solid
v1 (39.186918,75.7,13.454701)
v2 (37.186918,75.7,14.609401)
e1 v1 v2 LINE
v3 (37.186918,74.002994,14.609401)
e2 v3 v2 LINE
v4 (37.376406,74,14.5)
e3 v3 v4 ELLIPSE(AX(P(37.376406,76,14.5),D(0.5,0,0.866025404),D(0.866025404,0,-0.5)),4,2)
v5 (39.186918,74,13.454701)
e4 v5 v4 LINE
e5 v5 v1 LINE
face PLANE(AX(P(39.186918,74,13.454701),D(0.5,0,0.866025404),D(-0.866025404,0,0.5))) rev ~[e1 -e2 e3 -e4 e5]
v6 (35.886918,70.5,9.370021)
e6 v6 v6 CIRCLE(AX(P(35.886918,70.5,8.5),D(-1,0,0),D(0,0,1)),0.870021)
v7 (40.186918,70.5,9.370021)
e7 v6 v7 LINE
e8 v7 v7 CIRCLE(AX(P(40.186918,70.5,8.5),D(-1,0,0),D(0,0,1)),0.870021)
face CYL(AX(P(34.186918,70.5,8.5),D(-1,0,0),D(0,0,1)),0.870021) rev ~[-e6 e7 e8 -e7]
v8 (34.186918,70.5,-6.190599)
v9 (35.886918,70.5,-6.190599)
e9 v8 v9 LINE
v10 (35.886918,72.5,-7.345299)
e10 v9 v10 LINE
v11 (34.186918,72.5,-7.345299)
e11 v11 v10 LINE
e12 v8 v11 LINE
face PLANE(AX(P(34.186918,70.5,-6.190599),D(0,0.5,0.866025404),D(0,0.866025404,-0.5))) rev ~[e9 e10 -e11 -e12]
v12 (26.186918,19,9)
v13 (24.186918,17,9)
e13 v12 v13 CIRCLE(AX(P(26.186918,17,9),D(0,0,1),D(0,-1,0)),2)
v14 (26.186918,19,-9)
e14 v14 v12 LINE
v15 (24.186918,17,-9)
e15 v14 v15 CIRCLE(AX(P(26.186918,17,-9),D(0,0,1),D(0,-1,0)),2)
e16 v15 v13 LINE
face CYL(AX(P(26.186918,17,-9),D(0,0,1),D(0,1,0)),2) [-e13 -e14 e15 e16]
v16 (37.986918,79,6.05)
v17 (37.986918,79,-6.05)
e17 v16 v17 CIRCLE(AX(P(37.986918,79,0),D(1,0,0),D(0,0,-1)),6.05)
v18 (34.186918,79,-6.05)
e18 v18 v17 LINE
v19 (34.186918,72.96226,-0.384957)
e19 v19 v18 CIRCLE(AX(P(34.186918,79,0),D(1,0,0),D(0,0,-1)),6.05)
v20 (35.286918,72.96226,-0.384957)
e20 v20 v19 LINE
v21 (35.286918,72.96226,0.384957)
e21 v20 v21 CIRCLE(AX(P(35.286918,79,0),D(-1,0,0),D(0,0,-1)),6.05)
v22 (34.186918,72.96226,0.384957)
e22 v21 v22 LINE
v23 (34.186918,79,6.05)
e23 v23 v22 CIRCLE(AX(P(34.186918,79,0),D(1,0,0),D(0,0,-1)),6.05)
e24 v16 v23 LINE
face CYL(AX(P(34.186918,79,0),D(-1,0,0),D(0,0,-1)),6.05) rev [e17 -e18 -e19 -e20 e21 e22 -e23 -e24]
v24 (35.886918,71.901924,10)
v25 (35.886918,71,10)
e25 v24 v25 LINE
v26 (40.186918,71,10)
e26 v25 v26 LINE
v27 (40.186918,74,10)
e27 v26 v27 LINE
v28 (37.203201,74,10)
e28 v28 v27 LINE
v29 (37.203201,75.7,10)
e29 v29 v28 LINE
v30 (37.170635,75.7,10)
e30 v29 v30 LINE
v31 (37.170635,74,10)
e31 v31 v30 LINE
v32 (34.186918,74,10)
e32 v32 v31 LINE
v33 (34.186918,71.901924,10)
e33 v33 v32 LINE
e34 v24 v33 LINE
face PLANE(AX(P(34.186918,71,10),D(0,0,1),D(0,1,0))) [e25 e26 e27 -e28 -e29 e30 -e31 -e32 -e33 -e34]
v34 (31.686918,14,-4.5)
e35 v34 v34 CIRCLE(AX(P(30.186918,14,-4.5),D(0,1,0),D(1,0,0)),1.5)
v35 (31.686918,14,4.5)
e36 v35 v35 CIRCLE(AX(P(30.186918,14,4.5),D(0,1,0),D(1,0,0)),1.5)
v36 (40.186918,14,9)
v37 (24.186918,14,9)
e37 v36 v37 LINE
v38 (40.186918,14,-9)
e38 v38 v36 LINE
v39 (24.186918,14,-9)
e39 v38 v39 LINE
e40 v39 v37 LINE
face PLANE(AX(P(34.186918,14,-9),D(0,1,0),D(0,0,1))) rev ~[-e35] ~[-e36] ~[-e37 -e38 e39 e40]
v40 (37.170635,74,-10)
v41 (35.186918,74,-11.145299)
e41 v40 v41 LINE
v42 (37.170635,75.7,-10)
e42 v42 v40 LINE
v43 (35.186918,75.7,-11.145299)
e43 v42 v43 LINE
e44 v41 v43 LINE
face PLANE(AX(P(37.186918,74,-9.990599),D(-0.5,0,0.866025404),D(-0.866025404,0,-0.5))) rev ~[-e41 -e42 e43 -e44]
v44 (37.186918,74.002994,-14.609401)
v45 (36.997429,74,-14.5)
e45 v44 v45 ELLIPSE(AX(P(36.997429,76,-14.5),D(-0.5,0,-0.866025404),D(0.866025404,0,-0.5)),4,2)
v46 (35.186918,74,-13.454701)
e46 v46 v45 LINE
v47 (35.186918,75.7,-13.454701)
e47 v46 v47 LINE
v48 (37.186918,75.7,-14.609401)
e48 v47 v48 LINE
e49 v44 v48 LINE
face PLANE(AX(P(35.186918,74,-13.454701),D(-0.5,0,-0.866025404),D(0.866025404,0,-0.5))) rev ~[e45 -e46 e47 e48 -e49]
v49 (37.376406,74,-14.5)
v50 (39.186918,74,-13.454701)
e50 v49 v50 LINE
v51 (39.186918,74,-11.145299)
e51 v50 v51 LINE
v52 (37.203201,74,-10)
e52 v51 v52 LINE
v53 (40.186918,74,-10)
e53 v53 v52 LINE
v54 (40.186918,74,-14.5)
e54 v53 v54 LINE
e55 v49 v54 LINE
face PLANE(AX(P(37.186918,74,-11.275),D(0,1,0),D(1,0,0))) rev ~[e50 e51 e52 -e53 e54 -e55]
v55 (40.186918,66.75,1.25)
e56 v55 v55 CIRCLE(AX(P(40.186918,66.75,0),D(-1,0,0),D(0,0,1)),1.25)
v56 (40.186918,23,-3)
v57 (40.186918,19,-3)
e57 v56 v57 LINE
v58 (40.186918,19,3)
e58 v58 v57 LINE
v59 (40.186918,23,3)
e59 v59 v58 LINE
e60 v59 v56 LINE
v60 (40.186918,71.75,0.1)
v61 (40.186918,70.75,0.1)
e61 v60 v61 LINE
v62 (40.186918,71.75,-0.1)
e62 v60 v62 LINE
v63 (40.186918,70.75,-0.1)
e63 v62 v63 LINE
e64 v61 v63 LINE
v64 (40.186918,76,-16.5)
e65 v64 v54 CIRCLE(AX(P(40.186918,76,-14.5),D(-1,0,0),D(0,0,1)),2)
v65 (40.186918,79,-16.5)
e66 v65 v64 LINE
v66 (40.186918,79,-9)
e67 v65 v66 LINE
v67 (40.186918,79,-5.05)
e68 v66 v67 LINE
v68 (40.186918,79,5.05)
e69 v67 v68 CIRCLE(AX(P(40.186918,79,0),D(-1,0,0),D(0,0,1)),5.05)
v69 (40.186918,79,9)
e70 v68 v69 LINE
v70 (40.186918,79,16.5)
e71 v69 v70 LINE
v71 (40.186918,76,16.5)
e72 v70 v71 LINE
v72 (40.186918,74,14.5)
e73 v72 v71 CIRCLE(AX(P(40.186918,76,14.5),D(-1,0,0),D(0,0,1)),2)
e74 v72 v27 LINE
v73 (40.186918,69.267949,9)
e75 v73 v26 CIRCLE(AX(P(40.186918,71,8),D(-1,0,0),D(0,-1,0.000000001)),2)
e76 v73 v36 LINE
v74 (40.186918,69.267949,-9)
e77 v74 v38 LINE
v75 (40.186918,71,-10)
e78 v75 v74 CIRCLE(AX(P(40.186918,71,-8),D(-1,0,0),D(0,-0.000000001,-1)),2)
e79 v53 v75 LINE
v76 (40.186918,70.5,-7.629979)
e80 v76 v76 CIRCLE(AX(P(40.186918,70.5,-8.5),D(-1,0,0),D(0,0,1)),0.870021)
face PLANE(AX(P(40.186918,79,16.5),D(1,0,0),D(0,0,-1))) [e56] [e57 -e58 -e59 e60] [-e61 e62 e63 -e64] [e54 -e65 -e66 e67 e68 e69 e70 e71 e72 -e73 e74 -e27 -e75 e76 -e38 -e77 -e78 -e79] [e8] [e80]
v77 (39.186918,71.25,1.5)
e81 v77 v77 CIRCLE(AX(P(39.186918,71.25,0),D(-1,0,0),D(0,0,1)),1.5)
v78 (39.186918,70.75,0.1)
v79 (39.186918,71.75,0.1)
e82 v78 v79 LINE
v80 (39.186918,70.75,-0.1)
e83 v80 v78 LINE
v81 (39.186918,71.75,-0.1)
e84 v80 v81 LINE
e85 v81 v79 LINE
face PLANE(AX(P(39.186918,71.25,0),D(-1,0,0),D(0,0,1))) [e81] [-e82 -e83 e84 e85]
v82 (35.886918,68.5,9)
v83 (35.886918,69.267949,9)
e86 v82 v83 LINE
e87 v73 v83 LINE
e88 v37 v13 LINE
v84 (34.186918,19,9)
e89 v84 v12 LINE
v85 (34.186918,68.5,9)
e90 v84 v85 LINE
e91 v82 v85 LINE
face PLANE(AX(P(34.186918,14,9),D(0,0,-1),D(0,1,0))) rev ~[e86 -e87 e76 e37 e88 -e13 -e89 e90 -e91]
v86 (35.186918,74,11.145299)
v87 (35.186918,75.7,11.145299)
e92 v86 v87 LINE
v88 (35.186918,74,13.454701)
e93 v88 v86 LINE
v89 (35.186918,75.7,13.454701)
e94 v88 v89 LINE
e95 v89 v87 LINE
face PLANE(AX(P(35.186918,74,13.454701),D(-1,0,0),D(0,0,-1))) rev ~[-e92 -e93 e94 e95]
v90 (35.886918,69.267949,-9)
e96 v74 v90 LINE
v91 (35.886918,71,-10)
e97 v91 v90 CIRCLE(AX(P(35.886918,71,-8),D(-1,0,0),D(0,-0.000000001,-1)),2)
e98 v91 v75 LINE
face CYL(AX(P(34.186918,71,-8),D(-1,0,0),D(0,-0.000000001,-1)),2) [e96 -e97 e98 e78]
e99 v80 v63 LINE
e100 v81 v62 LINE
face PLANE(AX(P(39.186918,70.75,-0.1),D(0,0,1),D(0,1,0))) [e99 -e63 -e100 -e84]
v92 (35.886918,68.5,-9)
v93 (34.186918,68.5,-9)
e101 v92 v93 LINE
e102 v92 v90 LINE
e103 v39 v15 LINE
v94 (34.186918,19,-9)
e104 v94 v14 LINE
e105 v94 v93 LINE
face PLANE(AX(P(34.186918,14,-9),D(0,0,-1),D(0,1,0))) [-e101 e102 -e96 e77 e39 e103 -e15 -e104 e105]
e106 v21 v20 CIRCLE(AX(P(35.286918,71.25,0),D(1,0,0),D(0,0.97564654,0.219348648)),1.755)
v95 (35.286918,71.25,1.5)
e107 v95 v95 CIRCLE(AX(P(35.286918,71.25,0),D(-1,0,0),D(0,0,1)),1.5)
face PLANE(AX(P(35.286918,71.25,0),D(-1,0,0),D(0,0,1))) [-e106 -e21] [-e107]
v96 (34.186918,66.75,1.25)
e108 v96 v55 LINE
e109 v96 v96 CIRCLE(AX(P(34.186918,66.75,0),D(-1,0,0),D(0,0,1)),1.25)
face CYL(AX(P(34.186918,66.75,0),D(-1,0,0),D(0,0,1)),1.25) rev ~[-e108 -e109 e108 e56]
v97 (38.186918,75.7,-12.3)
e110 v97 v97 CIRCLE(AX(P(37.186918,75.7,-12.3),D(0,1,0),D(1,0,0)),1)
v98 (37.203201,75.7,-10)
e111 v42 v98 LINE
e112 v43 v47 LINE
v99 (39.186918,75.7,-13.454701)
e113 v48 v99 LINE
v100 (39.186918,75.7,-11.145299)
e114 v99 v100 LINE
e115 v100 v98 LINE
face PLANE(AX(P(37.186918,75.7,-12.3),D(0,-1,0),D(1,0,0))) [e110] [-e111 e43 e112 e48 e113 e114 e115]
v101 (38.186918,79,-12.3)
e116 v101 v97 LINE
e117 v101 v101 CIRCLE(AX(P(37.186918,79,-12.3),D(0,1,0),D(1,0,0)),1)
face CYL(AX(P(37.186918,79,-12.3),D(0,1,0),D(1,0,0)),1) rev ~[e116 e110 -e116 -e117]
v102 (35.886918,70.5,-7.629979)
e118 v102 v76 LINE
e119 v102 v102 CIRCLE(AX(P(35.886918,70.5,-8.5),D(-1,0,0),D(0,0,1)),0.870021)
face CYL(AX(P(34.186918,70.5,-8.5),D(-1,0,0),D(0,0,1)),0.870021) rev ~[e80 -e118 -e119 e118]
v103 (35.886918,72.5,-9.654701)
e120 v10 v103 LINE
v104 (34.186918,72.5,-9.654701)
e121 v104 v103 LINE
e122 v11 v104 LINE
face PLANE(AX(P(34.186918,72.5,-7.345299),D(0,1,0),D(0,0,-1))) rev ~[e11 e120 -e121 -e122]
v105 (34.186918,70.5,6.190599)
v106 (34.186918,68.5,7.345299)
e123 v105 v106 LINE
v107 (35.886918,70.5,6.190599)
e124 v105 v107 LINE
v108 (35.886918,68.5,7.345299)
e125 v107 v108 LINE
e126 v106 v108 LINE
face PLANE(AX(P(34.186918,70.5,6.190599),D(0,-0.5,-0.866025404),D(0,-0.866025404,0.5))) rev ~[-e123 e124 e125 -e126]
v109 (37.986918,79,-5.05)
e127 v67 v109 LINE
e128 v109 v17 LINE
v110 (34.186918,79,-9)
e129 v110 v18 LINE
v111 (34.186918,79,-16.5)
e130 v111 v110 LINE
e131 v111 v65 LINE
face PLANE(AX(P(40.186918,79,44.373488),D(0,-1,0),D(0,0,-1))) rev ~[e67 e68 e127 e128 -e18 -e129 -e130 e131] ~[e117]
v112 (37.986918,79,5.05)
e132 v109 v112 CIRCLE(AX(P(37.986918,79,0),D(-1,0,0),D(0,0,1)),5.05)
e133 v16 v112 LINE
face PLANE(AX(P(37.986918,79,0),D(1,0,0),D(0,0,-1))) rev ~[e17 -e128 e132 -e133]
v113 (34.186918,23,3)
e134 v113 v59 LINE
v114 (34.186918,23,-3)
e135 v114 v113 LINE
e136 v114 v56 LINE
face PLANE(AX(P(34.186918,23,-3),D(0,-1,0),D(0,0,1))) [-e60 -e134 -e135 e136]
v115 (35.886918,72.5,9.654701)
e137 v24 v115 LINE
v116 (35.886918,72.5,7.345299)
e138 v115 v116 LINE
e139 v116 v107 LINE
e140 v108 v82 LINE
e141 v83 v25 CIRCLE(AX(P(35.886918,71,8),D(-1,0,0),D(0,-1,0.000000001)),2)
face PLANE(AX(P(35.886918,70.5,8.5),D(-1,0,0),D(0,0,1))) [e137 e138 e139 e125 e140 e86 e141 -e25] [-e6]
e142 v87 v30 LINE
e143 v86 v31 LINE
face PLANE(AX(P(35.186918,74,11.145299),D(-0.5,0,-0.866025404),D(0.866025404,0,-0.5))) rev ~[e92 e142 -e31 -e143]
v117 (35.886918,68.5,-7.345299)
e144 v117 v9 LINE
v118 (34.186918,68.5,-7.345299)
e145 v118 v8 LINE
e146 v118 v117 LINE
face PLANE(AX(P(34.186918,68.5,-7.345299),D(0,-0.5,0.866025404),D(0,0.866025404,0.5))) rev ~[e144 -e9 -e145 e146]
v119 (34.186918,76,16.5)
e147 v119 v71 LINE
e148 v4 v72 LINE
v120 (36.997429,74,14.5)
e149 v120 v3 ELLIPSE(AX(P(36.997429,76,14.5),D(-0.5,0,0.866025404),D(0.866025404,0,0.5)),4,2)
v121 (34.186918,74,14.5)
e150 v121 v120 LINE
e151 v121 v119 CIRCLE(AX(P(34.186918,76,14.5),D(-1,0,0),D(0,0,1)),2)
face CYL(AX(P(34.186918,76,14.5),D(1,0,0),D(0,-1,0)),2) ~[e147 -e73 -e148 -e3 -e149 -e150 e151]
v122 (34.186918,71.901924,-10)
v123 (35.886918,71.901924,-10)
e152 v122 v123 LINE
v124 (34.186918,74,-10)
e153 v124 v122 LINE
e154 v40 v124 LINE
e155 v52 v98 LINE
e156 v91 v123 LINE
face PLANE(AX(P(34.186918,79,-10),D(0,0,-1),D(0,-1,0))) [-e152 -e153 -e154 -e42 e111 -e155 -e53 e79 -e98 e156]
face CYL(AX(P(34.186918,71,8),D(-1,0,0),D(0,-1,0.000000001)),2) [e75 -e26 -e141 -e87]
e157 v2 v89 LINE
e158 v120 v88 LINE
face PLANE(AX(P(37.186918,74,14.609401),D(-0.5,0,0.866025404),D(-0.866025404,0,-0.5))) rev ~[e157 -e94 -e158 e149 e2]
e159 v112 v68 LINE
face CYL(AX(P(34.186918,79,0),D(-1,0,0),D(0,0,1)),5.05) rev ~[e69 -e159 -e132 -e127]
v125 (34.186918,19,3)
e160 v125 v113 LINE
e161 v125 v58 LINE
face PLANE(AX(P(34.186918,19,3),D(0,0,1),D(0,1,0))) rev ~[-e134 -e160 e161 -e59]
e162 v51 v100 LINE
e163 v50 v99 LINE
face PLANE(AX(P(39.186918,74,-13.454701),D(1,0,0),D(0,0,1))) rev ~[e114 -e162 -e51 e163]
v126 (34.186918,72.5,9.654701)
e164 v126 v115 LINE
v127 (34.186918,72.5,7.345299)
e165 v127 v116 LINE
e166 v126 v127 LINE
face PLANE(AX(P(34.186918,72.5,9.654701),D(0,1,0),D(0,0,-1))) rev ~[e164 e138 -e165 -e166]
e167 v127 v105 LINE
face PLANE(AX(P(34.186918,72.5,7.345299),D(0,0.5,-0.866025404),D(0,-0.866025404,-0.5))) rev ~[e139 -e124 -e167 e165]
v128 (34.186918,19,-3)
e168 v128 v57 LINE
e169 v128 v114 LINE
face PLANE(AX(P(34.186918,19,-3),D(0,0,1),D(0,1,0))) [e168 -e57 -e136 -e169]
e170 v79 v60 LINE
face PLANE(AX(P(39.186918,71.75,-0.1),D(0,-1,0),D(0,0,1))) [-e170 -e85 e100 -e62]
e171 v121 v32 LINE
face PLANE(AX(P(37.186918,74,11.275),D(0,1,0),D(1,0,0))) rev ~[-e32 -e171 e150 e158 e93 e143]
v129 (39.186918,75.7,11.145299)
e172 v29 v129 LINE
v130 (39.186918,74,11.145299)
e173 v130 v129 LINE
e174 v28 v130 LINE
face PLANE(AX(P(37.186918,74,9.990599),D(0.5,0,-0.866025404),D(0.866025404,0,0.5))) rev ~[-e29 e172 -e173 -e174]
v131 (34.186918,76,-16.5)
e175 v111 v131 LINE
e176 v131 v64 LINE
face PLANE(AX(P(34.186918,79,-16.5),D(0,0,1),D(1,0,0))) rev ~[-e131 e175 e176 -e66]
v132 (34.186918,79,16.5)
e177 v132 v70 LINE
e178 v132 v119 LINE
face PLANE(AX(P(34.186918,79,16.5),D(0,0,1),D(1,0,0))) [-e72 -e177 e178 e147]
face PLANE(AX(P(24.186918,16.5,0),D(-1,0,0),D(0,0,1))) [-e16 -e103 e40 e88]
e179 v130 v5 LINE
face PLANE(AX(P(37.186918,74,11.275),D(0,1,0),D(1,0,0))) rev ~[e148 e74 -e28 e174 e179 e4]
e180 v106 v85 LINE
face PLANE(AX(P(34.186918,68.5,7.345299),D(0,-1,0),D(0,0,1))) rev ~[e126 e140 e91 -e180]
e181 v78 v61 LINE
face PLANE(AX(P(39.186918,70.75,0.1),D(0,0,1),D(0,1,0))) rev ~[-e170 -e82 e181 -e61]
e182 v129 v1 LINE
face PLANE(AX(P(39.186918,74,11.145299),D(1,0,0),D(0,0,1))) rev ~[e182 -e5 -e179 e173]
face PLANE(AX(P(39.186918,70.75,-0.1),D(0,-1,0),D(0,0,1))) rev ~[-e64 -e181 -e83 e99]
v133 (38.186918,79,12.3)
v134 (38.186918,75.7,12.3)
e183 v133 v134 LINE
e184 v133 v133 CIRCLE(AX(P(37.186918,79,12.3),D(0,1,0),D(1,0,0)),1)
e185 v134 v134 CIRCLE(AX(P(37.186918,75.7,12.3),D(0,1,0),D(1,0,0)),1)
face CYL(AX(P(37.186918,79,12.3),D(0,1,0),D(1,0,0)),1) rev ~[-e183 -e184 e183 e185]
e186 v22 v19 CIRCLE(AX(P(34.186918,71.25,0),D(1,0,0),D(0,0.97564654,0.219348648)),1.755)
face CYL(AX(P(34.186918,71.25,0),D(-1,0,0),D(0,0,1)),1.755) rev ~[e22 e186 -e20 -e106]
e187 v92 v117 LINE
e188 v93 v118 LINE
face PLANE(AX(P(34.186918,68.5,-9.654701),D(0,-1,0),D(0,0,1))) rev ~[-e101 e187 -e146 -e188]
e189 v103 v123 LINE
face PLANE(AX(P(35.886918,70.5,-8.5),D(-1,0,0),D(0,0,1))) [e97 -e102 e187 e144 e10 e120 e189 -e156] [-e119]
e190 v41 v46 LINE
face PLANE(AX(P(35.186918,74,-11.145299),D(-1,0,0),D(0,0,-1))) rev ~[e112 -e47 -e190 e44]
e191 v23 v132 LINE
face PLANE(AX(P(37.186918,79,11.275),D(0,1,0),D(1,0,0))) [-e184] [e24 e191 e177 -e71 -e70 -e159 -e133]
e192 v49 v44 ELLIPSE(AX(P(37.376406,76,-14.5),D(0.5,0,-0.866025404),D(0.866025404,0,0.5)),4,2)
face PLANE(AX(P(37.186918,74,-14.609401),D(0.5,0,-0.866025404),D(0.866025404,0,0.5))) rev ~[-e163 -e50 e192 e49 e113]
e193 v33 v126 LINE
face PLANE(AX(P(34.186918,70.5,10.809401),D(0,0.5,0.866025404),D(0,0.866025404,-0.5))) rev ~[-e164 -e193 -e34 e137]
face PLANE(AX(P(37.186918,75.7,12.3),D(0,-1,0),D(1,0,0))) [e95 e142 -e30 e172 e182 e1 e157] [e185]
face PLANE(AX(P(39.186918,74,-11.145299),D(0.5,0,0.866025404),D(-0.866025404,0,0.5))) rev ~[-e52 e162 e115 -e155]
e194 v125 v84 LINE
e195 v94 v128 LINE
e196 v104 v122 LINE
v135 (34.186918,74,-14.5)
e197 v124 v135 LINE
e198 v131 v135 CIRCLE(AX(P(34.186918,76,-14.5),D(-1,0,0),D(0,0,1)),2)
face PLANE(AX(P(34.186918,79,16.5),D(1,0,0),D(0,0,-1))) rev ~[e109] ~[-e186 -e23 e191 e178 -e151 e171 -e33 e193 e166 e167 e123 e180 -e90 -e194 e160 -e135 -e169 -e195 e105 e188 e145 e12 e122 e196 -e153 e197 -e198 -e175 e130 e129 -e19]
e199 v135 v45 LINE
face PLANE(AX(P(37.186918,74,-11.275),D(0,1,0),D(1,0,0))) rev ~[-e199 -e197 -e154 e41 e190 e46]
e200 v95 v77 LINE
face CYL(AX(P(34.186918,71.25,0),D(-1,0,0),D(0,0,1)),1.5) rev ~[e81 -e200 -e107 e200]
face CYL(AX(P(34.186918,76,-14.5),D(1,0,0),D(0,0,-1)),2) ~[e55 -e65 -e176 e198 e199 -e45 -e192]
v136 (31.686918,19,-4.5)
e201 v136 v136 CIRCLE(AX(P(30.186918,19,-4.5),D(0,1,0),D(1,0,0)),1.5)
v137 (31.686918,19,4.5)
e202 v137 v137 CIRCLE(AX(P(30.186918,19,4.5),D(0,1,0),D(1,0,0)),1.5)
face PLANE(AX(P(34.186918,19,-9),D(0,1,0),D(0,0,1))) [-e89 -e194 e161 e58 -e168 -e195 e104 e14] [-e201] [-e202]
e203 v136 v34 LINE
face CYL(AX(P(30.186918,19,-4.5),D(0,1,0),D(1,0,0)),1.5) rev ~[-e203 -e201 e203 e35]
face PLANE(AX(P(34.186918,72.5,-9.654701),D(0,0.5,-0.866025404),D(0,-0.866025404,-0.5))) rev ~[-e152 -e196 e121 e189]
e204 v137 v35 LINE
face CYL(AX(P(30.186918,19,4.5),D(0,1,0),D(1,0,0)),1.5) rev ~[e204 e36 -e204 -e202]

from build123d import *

# Parameters (mm, degrees)
SKETCH1_R                 = 17.45
SKETCH1_R_2               = 12.45
BOSS_EXTRUDE1_DEPTH       = 8
SKETCH2_R                 = 20
SKETCH2_R_2               = 12.45
BOSS_EXTRUDE2_DEPTH       = 2
SKETCH3_R                 = 32.5
SKETCH3_R_2               = 12.45
BOSS_EXTRUDE3_DEPTH       = 4
FILLET1_R                 = 1
BOSS_EXTRUDE6_START       = -4
SKETCH10_W                = 10
SKETCH10_H                = 18
BOSS_EXTRUDE6_DEPTH       = 4
SKETCH4_W                 = 6
SKETCH4_H                 = 18
BOSS_EXTRUDE4_DEPTH       = 75
BOSS_EXTRUDE4_DEPTH_BACK  = 4
SKETCH5_R                 = 5.05
CUT_EXTRUDE1_DEPTH        = 306
CUT_EXTRUDE1_DEPTH_BACK   = 113
SKETCH6_W                 = 6
SKETCH6_H                 = 10
BOSS_EXTRUDE5_DEPTH       = 15
BOSS_EXTRUDE5_DEPTH_BACK  = 32.85
SKETCH7_R                 = 1.629220746
SKETCH7_R_2               = 1.580258945
CUT_EXTRUDE2_DEPTH        = 10
SKETCH9_R                 = 5.05
CUT_EXTRUDE3_DEPTH        = 10
CUT_EXTRUDE3_DEPTH_BACK   = 10
SKETCH11_W                = 9.782596874
SKETCH11_H                = 3.234517514
CUT_EXTRUDE4_DEPTH        = 123
CUT_EXTRUDE4_DEPTH_BACK   = 61
FILLET4_R                 = 3
FILLET5_R                 = 3
SKETCH12_W                = 108.791398151
SKETCH12_H                = 24.041848298
CUT_EXTRUDE5_DEPTH        = 110.678
SKETCH15_R                = 22
CUT_EXTRUDE7_DEPTH        = 4
SKETCH13_R                = 22
SKETCH13_R_2              = 11
SKETCH13_R_3              = 2.75
BOSS_EXTRUDE7_DEPTH       = 4
FILLET6_R                 = 3
CUT_EXTRUDE8_DEPTH        = 5
FILLET7_R                 = 1
BOSS_EXTRUDE8_START       = -3
BOSS_EXTRUDE8_DEPTH       = 9.4
FILLET8_R                 = 3
FILLET8_OF_MIRROR2_R      = 3
CUT_EXTRUDE12_START       = -6
SKETCH21_R                = 6.05
CUT_EXTRUDE12_DEPTH       = 3.8
SKETCH18_W                = 88.746975794
SKETCH18_H                = 20.386854219
CUT_EXTRUDE9_DEPTH        = 10
SKETCH19_W                = 6
SKETCH19_H                = 10.45
BOSS_EXTRUDE9_DEPTH       = 5
FILLET9_R                 = 2
CUT_EXTRUDE13_DEPTH       = 2
SKETCH23_R                = 1
CUT_EXTRUDE14_DEPTH       = 11
CUT_EXTRUDE16_DEPTH       = 1.7
CUT_EXTRUDE17_DEPTH       = 55
CUT_EXTRUDE17_DEPTH_BACK  = 127
SKETCH26_W                = 18
SKETCH26_H                = 5
BOSS_EXTRUDE10_DEPTH      = 10
BOSS_EXTRUDE10_DEPTH_BACK = 6
FILLET10_R                = 2
SKETCH27_W                = 6
SKETCH27_H                = 4
CUT_EXTRUDE18_DEPTH       = 10
SKETCH28_R                = 1.5
CUT_EXTRUDE19_DEPTH       = 10
BOSS_EXTRUDE11_DEPTH      = 6
SKETCH30_R                = 0.870021032
CUT_EXTRUDE20_DEPTH       = 6
CUT_EXTRUDE21_DEPTH       = 1.7
SKETCH32_R                = 1.5
CUT_EXTRUDE22_DEPTH       = 5
SKETCH33_W                = 0.2
SKETCH33_H                = 1
CUT_EXTRUDE23_DEPTH       = 5
SKETCH34_R                = 1.755
CUT_EXTRUDE24_DEPTH       = 1.1
SKETCH35_R                = 1.25
CUT_EXTRUDE25_DEPTH       = 11.1


with BuildPart() as part:
    # Sketch1 → Boss-Extrude1 (new body)
    with BuildSketch(Plane(origin=(0, 0, 0), x_dir=(1, 0, 0), z_dir=(0, 1, 0))):
        Circle(SKETCH1_R)
        Circle(SKETCH1_R_2, mode=Mode.SUBTRACT)
    extrude(amount=BOSS_EXTRUDE1_DEPTH)

    # Sketch2 → Boss-Extrude2 (add)
    with BuildSketch(Plane(origin=(0, 8, 0), x_dir=(1, 0, 0), z_dir=(0, 1, 0))):
        Circle(SKETCH2_R)
        Circle(SKETCH2_R_2, mode=Mode.SUBTRACT)
    extrude(amount=BOSS_EXTRUDE2_DEPTH)

    # Sketch3 → Boss-Extrude3 (add)
    with BuildSketch(Plane(origin=(0, 10, 0), x_dir=(1, 0, 0), z_dir=(0, 1, 0))):
        Circle(SKETCH3_R)
        Circle(SKETCH3_R_2, mode=Mode.SUBTRACT)
    extrude(amount=BOSS_EXTRUDE3_DEPTH)

    # Fillet1
    fillet1_edges = [part.edges().sort_by_distance(p)[0] for p in [
        (-32.5, 14, 0),
    ]]
    fillet(fillet1_edges, radius=FILLET1_R)

    # Sketch10 → Boss-Extrude6 (add)
    with BuildSketch(Plane(origin=(0, 14, 0), x_dir=(1, 0, 0), z_dir=(0, 1, 0)).offset(BOSS_EXTRUDE6_START)):
        with Locations((35.186917696, 0)):
            Rectangle(SKETCH10_W, SKETCH10_H)
        with Locations((-35.186917696, 0)):
            Rectangle(SKETCH10_W, SKETCH10_H)
    extrude(amount=BOSS_EXTRUDE6_DEPTH)

    # Sketch4 → Boss-Extrude4 (add, two sides)
    with BuildSketch(Plane(origin=(0, 14, 0), x_dir=(1, 0, 0), z_dir=(0, 1, 0))) as boss_extrude4_sk:
        with Locations((-37.186917696, 0)):
            Rectangle(SKETCH4_W, SKETCH4_H)
        with Locations((37.186917696, 0)):
            Rectangle(SKETCH4_W, SKETCH4_H)
    extrude(amount=BOSS_EXTRUDE4_DEPTH)
    extrude(boss_extrude4_sk.sketch, amount=-BOSS_EXTRUDE4_DEPTH_BACK)

    # Sketch5 → Cut-Extrude1 (cut, two sides)
    with BuildSketch(Plane.ZY.offset(-34.186917696)) as cut_extrude1_sk:
        with Locations((0, 79)):
            Circle(SKETCH5_R)
    extrude(amount=CUT_EXTRUDE1_DEPTH, mode=Mode.SUBTRACT)
    extrude(cut_extrude1_sk.sketch, amount=-CUT_EXTRUDE1_DEPTH_BACK, mode=Mode.SUBTRACT)

    # Sketch6 → Boss-Extrude5 (add, two sides)
    with BuildSketch(Plane(origin=(0, 0, -9), x_dir=(-1, 0, 0), z_dir=(0, 0, -1))) as boss_extrude5_sk:
        with Locations((37.186917696, 70.95)):
            Rectangle(SKETCH6_W, SKETCH6_H)
    extrude(amount=BOSS_EXTRUDE5_DEPTH)
    extrude(boss_extrude5_sk.sketch, amount=-BOSS_EXTRUDE5_DEPTH_BACK)

    # Sketch7 → Cut-Extrude2 (cut)
    with BuildSketch(Plane(origin=(-34.186917696, 0, 0), x_dir=(0, 0, -1), z_dir=(1, 0, 0))):
        with Locations((-17.5, 71)):
            Circle(SKETCH7_R)
        with Locations((17.5, 71)):
            Circle(SKETCH7_R_2)
    extrude(amount=-CUT_EXTRUDE2_DEPTH, mode=Mode.SUBTRACT)

    # Sketch9 → Cut-Extrude3 (cut, two sides)
    with BuildSketch(Plane(origin=(-34.186917696, 0, 0), x_dir=(0, 0, -1), z_dir=(1, 0, 0))) as cut_extrude3_sk:
        with Locations((0, 79)):
            Circle(SKETCH9_R)
    extrude(amount=CUT_EXTRUDE3_DEPTH, mode=Mode.SUBTRACT)
    extrude(cut_extrude3_sk.sketch, amount=-CUT_EXTRUDE3_DEPTH_BACK, mode=Mode.SUBTRACT)

    # Sketch11 → Cut-Extrude4 (cut, two sides)
    with BuildSketch(Plane.ZY.offset(-34.186917696)) as cut_extrude4_sk:
        with Locations((0, 15.617258757)):
            Rectangle(SKETCH11_W, SKETCH11_H)
    extrude(amount=CUT_EXTRUDE4_DEPTH, mode=Mode.SUBTRACT)
    extrude(cut_extrude4_sk.sketch, amount=-CUT_EXTRUDE4_DEPTH_BACK, mode=Mode.SUBTRACT)

    # Fillet4
    fillet4_edges = [part.edges().sort_by_distance(p)[0] for p in [
        (-37.186917696, 65.95, 23.85),
        (-37.186917696, 75.95, 23.85),
        (-37.186917696, 65.95, -24),
        (-37.186917696, 75.95, -24),
        (-37.186917696, 89, -9),
        (-37.186917696, 89, 9),
    ]]
    fillet(fillet4_edges, radius=FILLET4_R)

    # Fillet5
    fillet5_edges = [part.edges().sort_by_distance(p)[0] for p in [
        (40.186917696, 10, 0),
        (-40.186917696, 10, 0),
    ]]
    fillet(fillet5_edges, radius=FILLET5_R)

    # Sketch12 → Cut-Extrude5 (cut)
    with BuildSketch(Plane(origin=(40.186917696, 0, 0), x_dir=(0, 0, -1), z_dir=(1, 0, 0))):
        with Locations((-12.502918017, -2.020924149)):
            Rectangle(SKETCH12_W, SKETCH12_H)
    extrude(amount=-CUT_EXTRUDE5_DEPTH, mode=Mode.SUBTRACT)

    # Sketch15 → Cut-Extrude7 (cut)
    with BuildSketch(Plane(origin=(0, 14, 0), x_dir=(1, 0, 0), z_dir=(0, 1, 0))):
        Circle(SKETCH15_R)
    extrude(amount=-CUT_EXTRUDE7_DEPTH, mode=Mode.SUBTRACT)

    # Sketch13 → Boss-Extrude7 (add)
    with BuildSketch(Plane(origin=(0, 14, 0), x_dir=(1, 0, 0), z_dir=(0, 1, 0))):
        Circle(SKETCH13_R)
        Circle(SKETCH13_R_2, mode=Mode.SUBTRACT)
        with Locations((0, 17.5)):
            Circle(SKETCH13_R_3, mode=Mode.SUBTRACT)
        with Locations((-15.155444566, -8.75)):
            Circle(SKETCH13_R_3, mode=Mode.SUBTRACT)
        with Locations((15.155444566, -8.75)):
            Circle(SKETCH13_R_3, mode=Mode.SUBTRACT)
    extrude(amount=-BOSS_EXTRUDE7_DEPTH)

    # Fillet6
    fillet6_edges = [part.edges().sort_by_distance(p)[0] for p in [
        (37.186917696, 89, 9),
        (37.186917696, 89, -9),
    ]]
    fillet(fillet6_edges, radius=FILLET6_R)

    # Sketch16 → Cut-Extrude8 (cut)
    with BuildSketch(Plane.XZ.offset(-10)):
        with BuildLine():
            Line((-31.228992939, 9), (-20.29384143, 9))
            ThreePointArc((-20.29384143, 9), (0, 22.2), (20.29384143, 9))
            Line((20.29384143, 9), (31.228992939, 9))
            ThreePointArc((31.228992939, 9), (0, 32.5), (-31.228992939, 9))
        make_face()
    cut_extrude8 = extrude(amount=-CUT_EXTRUDE8_DEPTH, mode=Mode.SUBTRACT)

    # Mirror1: Cut-Extrude8 across plane
    add(cut_extrude8.mirror(Plane.XY), mode=Mode.SUBTRACT)

    # Fillet7
    fillet7_edges = [part.edges().sort_by_distance(p)[0] for p in [
        (0, 14, 22.2),
        (0, 14, -22.2),
    ]]
    fillet(fillet7_edges, radius=FILLET7_R)

    # Sketch17 → Boss-Extrude8 (add)
    with BuildSketch(Plane.XZ.offset(-10).offset(BOSS_EXTRUDE8_START)):
        with BuildLine():
            Line((20.29384143, -9), (40.186917696, -9))
            Line((40.186917696, -9), (40.186917696, 9))
            Line((40.186917696, 9), (20.29384143, 9))
            ThreePointArc((20.29384143, 9), (22.2, 0), (20.29384143, -9))
        make_face()
    boss_extrude8 = extrude(amount=BOSS_EXTRUDE8_DEPTH)

    # Fillet8
    fillet8_edges = [part.edges().sort_by_distance(p)[0] for p in [
        (40.186917696, 3.6, 0),
    ]]
    fillet(fillet8_edges, radius=FILLET8_R)

    # Mirror2: Boss-Extrude8 across plane
    add(boss_extrude8.mirror(Plane(origin=(0, 0, 0), x_dir=(0, 0, 1), z_dir=(1, 0, 0))))

    # Fillet8 of Mirror2
    fillet8_of_mirror2_edges = [part.edges().sort_by_distance(p)[0] for p in [
        (-40.186917696, 3.6, 0),
    ]]
    fillet(fillet8_of_mirror2_edges, radius=FILLET8_OF_MIRROR2_R)

    # Sketch21 → Cut-Extrude12 (cut)
    with BuildSketch(Plane(origin=(40.186917696, 0, 0), x_dir=(0, 0, -1), z_dir=(1, 0, 0)).offset(CUT_EXTRUDE12_START)):
        with Locations((0, 79)):
            Circle(SKETCH21_R)
    extrude(amount=CUT_EXTRUDE12_DEPTH, mode=Mode.SUBTRACT)

    # Sketch18 → Cut-Extrude9 (cut)
    with BuildSketch(Plane(origin=(40.186917696, 0, 0), x_dir=(0, 0, -1), z_dir=(1, 0, 0))):
        with Locations((0, 89.193427109)):
            Rectangle(SKETCH18_W, SKETCH18_H)
    extrude(amount=-CUT_EXTRUDE9_DEPTH, mode=Mode.SUBTRACT)

    # Sketch19 → Boss-Extrude9 (add)
    with BuildSketch(Plane(origin=(0, 79, 0), x_dir=(1, 0, 0), z_dir=(0, 1, 0))):
        with Locations((37.186917696, -11.275)):
            Rectangle(SKETCH19_W, SKETCH19_H)
        with Locations((37.186917696, 11.275)):
            Rectangle(SKETCH19_W, SKETCH19_H)
    extrude(amount=-BOSS_EXTRUDE9_DEPTH)

    # Fillet9
    fillet9_edges = [part.edges().sort_by_distance(p)[0] for p in [
        (37.186917696, 74, 16.5),
        (37.186917696, 74, -16.5),
    ]]
    fillet(fillet9_edges, radius=FILLET9_R)

    # Sketch22 → Cut-Extrude13 (cut)
    with BuildSketch(Plane(origin=(-34.186917696, 0, 0), x_dir=(0, 0, -1), z_dir=(1, 0, 0))):
        Polygon((-15.9988893, 68.4), (-14.4977786, 71), (-15.9988893, 73.6), (-19.0011107, 73.6), (-20.5022214, 71), (-19.0011107, 68.4), align=None)
        Polygon((20.5022214, 71), (19.0011107, 73.6), (15.9988893, 73.6), (14.4977786, 71), (15.9988893, 68.4), (19.0011107, 68.4), align=None)
    extrude(amount=-CUT_EXTRUDE13_DEPTH, mode=Mode.SUBTRACT)

    # Sketch23 → Cut-Extrude14 (cut)
    with BuildSketch(Plane(origin=(0, 79, 0), x_dir=(1, 0, 0), z_dir=(0, 1, 0))):
        with Locations((37.186917696, -12.3)):
            Circle(SKETCH23_R)
        with Locations((37.186917696, 12.3)):
            Circle(SKETCH23_R)
    extrude(amount=-CUT_EXTRUDE14_DEPTH, mode=Mode.SUBTRACT)

    # Sketch24 → Cut-Extrude16 (cut)
    with BuildSketch(Plane.XZ.offset(-74)):
        Polygon((37.186917696, 9.990598923), (39.186917696, 11.145299462), (39.186917696, 13.454700538), (37.186917696, 14.609401077), (35.186917696, 13.454700538), (35.186917696, 11.145299462), align=None)
        Polygon((37.186917696, -14.609401077), (39.186917696, -13.454700538), (39.186917696, -11.145299462), (37.186917696, -9.990598923), (35.186917696, -11.145299462), (35.186917696, -13.454700538), align=None)
    extrude(amount=-CUT_EXTRUDE16_DEPTH, mode=Mode.SUBTRACT)

    # Sketch25 → Cut-Extrude17 (cut, two sides)
    with BuildSketch(Plane.XY.offset(9)) as cut_extrude17_sk:
        Polygon((34.186917696, 121.100331415), (-54.647701705, 121.100331415), (-54.647701705, -34.206054819), (60.966679658, -34.206054819), (60.966679658, 14), (34.186917696, 14), align=None)
    extrude(amount=CUT_EXTRUDE17_DEPTH, mode=Mode.SUBTRACT)
    extrude(cut_extrude17_sk.sketch, amount=-CUT_EXTRUDE17_DEPTH_BACK, mode=Mode.SUBTRACT)

    # Sketch26 → Boss-Extrude10 (add, two sides)
    with BuildSketch(Plane.ZY.offset(-34.186917696)) as boss_extrude10_sk:
        with Locations((0, 16.5)):
            Rectangle(SKETCH26_W, SKETCH26_H)
    extrude(amount=BOSS_EXTRUDE10_DEPTH)
    extrude(boss_extrude10_sk.sketch, amount=-BOSS_EXTRUDE10_DEPTH_BACK)

    # Fillet10
    fillet10_edges = [part.edges().sort_by_distance(p)[0] for p in [
        (24.186917696, 19, 0),
    ]]
    fillet(fillet10_edges, radius=FILLET10_R)

    # Sketch27 → Cut-Extrude18 (cut)
    with BuildSketch(Plane.ZY.offset(-34.186917696)):
        with Locations((0, 21)):
            Rectangle(SKETCH27_W, SKETCH27_H)
    extrude(amount=-CUT_EXTRUDE18_DEPTH, mode=Mode.SUBTRACT)

    # Sketch28 → Cut-Extrude19 (cut)
    with BuildSketch(Plane(origin=(0, 19, 0), x_dir=(1, 0, 0), z_dir=(0, 1, 0))):
        with Locations((30.186917696, 4.5)):
            Circle(SKETCH28_R)
        with Locations((30.186917696, -4.5)):
            Circle(SKETCH28_R)
    extrude(amount=-CUT_EXTRUDE19_DEPTH, mode=Mode.SUBTRACT)

    # Sketch29 → Boss-Extrude11 (add)
    with BuildSketch(Plane.ZY.offset(-34.186917696)):
        with BuildLine():
            Line((-6.05, 79), (-10, 79))
            Line((-10, 79), (-10, 71))
            ThreePointArc((-10, 71), (-9.414213562, 69.585786438), (-8, 69))
            Line((-8, 69), (8, 69))
            ThreePointArc((8, 69), (9.414213562, 69.585786438), (10, 71))
            Line((10, 71), (10, 79))
            Line((10, 79), (6.05, 79))
            Line((6.05, 79), (6.05, 71.902838549))
            Line((6.05, 71.902838549), (-6.05, 71.902838549))
            Line((-6.05, 71.902838549), (-6.05, 79))
        make_face()
    extrude(amount=-BOSS_EXTRUDE11_DEPTH)

    # Sketch30 → Cut-Extrude20 (cut)
    with BuildSketch(Plane.ZY.offset(-34.186917696)):
        with Locations((-8.5, 70.5)):
            Circle(SKETCH30_R)
        with Locations((8.5, 70.5)):
            Circle(SKETCH30_R)
    extrude(amount=-CUT_EXTRUDE20_DEPTH, mode=Mode.SUBTRACT)

    # Sketch31 → Cut-Extrude21 (cut)
    with BuildSketch(Plane.ZY.offset(-34.186917696)):
        Polygon((-7.345299462, 68.5), (-6.190598923, 70.5), (-7.345299462, 72.5), (-9.654700538, 72.5), (-10.809401077, 70.5), (-9.654700538, 68.5), align=None)
        Polygon((9.654700538, 68.5), (10.809401077, 70.5), (9.654700538, 72.5), (7.345299462, 72.5), (6.190598923, 70.5), (7.345299462, 68.5), align=None)
    extrude(amount=-CUT_EXTRUDE21_DEPTH, mode=Mode.SUBTRACT)

    # Sketch32 → Cut-Extrude22 (cut)
    with BuildSketch(Plane.ZY.offset(-34.186917696)):
        with Locations((0, 71.25)):
            Circle(SKETCH32_R)
    extrude(amount=-CUT_EXTRUDE22_DEPTH, mode=Mode.SUBTRACT)

    # Sketch33 → Cut-Extrude23 (cut)
    with BuildSketch(Plane.ZY.offset(-39.186917696)):
        with Locations((0, 71.25)):
            Rectangle(SKETCH33_W, SKETCH33_H)
    extrude(amount=-CUT_EXTRUDE23_DEPTH, mode=Mode.SUBTRACT)

    # Sketch34 → Cut-Extrude24 (cut)
    with BuildSketch(Plane.ZY.offset(-34.186917696)):
        with Locations((0, 71.25)):
            Circle(SKETCH34_R)
    extrude(amount=-CUT_EXTRUDE24_DEPTH, mode=Mode.SUBTRACT)

    # Sketch35 → Cut-Extrude25 (cut)
    with BuildSketch(Plane.ZY.offset(-34.186917696)):
        with Locations((0, 66.75)):
            Circle(SKETCH35_R)
    extrude(amount=-CUT_EXTRUDE25_DEPTH, mode=Mode.SUBTRACT)


solid = part.part
